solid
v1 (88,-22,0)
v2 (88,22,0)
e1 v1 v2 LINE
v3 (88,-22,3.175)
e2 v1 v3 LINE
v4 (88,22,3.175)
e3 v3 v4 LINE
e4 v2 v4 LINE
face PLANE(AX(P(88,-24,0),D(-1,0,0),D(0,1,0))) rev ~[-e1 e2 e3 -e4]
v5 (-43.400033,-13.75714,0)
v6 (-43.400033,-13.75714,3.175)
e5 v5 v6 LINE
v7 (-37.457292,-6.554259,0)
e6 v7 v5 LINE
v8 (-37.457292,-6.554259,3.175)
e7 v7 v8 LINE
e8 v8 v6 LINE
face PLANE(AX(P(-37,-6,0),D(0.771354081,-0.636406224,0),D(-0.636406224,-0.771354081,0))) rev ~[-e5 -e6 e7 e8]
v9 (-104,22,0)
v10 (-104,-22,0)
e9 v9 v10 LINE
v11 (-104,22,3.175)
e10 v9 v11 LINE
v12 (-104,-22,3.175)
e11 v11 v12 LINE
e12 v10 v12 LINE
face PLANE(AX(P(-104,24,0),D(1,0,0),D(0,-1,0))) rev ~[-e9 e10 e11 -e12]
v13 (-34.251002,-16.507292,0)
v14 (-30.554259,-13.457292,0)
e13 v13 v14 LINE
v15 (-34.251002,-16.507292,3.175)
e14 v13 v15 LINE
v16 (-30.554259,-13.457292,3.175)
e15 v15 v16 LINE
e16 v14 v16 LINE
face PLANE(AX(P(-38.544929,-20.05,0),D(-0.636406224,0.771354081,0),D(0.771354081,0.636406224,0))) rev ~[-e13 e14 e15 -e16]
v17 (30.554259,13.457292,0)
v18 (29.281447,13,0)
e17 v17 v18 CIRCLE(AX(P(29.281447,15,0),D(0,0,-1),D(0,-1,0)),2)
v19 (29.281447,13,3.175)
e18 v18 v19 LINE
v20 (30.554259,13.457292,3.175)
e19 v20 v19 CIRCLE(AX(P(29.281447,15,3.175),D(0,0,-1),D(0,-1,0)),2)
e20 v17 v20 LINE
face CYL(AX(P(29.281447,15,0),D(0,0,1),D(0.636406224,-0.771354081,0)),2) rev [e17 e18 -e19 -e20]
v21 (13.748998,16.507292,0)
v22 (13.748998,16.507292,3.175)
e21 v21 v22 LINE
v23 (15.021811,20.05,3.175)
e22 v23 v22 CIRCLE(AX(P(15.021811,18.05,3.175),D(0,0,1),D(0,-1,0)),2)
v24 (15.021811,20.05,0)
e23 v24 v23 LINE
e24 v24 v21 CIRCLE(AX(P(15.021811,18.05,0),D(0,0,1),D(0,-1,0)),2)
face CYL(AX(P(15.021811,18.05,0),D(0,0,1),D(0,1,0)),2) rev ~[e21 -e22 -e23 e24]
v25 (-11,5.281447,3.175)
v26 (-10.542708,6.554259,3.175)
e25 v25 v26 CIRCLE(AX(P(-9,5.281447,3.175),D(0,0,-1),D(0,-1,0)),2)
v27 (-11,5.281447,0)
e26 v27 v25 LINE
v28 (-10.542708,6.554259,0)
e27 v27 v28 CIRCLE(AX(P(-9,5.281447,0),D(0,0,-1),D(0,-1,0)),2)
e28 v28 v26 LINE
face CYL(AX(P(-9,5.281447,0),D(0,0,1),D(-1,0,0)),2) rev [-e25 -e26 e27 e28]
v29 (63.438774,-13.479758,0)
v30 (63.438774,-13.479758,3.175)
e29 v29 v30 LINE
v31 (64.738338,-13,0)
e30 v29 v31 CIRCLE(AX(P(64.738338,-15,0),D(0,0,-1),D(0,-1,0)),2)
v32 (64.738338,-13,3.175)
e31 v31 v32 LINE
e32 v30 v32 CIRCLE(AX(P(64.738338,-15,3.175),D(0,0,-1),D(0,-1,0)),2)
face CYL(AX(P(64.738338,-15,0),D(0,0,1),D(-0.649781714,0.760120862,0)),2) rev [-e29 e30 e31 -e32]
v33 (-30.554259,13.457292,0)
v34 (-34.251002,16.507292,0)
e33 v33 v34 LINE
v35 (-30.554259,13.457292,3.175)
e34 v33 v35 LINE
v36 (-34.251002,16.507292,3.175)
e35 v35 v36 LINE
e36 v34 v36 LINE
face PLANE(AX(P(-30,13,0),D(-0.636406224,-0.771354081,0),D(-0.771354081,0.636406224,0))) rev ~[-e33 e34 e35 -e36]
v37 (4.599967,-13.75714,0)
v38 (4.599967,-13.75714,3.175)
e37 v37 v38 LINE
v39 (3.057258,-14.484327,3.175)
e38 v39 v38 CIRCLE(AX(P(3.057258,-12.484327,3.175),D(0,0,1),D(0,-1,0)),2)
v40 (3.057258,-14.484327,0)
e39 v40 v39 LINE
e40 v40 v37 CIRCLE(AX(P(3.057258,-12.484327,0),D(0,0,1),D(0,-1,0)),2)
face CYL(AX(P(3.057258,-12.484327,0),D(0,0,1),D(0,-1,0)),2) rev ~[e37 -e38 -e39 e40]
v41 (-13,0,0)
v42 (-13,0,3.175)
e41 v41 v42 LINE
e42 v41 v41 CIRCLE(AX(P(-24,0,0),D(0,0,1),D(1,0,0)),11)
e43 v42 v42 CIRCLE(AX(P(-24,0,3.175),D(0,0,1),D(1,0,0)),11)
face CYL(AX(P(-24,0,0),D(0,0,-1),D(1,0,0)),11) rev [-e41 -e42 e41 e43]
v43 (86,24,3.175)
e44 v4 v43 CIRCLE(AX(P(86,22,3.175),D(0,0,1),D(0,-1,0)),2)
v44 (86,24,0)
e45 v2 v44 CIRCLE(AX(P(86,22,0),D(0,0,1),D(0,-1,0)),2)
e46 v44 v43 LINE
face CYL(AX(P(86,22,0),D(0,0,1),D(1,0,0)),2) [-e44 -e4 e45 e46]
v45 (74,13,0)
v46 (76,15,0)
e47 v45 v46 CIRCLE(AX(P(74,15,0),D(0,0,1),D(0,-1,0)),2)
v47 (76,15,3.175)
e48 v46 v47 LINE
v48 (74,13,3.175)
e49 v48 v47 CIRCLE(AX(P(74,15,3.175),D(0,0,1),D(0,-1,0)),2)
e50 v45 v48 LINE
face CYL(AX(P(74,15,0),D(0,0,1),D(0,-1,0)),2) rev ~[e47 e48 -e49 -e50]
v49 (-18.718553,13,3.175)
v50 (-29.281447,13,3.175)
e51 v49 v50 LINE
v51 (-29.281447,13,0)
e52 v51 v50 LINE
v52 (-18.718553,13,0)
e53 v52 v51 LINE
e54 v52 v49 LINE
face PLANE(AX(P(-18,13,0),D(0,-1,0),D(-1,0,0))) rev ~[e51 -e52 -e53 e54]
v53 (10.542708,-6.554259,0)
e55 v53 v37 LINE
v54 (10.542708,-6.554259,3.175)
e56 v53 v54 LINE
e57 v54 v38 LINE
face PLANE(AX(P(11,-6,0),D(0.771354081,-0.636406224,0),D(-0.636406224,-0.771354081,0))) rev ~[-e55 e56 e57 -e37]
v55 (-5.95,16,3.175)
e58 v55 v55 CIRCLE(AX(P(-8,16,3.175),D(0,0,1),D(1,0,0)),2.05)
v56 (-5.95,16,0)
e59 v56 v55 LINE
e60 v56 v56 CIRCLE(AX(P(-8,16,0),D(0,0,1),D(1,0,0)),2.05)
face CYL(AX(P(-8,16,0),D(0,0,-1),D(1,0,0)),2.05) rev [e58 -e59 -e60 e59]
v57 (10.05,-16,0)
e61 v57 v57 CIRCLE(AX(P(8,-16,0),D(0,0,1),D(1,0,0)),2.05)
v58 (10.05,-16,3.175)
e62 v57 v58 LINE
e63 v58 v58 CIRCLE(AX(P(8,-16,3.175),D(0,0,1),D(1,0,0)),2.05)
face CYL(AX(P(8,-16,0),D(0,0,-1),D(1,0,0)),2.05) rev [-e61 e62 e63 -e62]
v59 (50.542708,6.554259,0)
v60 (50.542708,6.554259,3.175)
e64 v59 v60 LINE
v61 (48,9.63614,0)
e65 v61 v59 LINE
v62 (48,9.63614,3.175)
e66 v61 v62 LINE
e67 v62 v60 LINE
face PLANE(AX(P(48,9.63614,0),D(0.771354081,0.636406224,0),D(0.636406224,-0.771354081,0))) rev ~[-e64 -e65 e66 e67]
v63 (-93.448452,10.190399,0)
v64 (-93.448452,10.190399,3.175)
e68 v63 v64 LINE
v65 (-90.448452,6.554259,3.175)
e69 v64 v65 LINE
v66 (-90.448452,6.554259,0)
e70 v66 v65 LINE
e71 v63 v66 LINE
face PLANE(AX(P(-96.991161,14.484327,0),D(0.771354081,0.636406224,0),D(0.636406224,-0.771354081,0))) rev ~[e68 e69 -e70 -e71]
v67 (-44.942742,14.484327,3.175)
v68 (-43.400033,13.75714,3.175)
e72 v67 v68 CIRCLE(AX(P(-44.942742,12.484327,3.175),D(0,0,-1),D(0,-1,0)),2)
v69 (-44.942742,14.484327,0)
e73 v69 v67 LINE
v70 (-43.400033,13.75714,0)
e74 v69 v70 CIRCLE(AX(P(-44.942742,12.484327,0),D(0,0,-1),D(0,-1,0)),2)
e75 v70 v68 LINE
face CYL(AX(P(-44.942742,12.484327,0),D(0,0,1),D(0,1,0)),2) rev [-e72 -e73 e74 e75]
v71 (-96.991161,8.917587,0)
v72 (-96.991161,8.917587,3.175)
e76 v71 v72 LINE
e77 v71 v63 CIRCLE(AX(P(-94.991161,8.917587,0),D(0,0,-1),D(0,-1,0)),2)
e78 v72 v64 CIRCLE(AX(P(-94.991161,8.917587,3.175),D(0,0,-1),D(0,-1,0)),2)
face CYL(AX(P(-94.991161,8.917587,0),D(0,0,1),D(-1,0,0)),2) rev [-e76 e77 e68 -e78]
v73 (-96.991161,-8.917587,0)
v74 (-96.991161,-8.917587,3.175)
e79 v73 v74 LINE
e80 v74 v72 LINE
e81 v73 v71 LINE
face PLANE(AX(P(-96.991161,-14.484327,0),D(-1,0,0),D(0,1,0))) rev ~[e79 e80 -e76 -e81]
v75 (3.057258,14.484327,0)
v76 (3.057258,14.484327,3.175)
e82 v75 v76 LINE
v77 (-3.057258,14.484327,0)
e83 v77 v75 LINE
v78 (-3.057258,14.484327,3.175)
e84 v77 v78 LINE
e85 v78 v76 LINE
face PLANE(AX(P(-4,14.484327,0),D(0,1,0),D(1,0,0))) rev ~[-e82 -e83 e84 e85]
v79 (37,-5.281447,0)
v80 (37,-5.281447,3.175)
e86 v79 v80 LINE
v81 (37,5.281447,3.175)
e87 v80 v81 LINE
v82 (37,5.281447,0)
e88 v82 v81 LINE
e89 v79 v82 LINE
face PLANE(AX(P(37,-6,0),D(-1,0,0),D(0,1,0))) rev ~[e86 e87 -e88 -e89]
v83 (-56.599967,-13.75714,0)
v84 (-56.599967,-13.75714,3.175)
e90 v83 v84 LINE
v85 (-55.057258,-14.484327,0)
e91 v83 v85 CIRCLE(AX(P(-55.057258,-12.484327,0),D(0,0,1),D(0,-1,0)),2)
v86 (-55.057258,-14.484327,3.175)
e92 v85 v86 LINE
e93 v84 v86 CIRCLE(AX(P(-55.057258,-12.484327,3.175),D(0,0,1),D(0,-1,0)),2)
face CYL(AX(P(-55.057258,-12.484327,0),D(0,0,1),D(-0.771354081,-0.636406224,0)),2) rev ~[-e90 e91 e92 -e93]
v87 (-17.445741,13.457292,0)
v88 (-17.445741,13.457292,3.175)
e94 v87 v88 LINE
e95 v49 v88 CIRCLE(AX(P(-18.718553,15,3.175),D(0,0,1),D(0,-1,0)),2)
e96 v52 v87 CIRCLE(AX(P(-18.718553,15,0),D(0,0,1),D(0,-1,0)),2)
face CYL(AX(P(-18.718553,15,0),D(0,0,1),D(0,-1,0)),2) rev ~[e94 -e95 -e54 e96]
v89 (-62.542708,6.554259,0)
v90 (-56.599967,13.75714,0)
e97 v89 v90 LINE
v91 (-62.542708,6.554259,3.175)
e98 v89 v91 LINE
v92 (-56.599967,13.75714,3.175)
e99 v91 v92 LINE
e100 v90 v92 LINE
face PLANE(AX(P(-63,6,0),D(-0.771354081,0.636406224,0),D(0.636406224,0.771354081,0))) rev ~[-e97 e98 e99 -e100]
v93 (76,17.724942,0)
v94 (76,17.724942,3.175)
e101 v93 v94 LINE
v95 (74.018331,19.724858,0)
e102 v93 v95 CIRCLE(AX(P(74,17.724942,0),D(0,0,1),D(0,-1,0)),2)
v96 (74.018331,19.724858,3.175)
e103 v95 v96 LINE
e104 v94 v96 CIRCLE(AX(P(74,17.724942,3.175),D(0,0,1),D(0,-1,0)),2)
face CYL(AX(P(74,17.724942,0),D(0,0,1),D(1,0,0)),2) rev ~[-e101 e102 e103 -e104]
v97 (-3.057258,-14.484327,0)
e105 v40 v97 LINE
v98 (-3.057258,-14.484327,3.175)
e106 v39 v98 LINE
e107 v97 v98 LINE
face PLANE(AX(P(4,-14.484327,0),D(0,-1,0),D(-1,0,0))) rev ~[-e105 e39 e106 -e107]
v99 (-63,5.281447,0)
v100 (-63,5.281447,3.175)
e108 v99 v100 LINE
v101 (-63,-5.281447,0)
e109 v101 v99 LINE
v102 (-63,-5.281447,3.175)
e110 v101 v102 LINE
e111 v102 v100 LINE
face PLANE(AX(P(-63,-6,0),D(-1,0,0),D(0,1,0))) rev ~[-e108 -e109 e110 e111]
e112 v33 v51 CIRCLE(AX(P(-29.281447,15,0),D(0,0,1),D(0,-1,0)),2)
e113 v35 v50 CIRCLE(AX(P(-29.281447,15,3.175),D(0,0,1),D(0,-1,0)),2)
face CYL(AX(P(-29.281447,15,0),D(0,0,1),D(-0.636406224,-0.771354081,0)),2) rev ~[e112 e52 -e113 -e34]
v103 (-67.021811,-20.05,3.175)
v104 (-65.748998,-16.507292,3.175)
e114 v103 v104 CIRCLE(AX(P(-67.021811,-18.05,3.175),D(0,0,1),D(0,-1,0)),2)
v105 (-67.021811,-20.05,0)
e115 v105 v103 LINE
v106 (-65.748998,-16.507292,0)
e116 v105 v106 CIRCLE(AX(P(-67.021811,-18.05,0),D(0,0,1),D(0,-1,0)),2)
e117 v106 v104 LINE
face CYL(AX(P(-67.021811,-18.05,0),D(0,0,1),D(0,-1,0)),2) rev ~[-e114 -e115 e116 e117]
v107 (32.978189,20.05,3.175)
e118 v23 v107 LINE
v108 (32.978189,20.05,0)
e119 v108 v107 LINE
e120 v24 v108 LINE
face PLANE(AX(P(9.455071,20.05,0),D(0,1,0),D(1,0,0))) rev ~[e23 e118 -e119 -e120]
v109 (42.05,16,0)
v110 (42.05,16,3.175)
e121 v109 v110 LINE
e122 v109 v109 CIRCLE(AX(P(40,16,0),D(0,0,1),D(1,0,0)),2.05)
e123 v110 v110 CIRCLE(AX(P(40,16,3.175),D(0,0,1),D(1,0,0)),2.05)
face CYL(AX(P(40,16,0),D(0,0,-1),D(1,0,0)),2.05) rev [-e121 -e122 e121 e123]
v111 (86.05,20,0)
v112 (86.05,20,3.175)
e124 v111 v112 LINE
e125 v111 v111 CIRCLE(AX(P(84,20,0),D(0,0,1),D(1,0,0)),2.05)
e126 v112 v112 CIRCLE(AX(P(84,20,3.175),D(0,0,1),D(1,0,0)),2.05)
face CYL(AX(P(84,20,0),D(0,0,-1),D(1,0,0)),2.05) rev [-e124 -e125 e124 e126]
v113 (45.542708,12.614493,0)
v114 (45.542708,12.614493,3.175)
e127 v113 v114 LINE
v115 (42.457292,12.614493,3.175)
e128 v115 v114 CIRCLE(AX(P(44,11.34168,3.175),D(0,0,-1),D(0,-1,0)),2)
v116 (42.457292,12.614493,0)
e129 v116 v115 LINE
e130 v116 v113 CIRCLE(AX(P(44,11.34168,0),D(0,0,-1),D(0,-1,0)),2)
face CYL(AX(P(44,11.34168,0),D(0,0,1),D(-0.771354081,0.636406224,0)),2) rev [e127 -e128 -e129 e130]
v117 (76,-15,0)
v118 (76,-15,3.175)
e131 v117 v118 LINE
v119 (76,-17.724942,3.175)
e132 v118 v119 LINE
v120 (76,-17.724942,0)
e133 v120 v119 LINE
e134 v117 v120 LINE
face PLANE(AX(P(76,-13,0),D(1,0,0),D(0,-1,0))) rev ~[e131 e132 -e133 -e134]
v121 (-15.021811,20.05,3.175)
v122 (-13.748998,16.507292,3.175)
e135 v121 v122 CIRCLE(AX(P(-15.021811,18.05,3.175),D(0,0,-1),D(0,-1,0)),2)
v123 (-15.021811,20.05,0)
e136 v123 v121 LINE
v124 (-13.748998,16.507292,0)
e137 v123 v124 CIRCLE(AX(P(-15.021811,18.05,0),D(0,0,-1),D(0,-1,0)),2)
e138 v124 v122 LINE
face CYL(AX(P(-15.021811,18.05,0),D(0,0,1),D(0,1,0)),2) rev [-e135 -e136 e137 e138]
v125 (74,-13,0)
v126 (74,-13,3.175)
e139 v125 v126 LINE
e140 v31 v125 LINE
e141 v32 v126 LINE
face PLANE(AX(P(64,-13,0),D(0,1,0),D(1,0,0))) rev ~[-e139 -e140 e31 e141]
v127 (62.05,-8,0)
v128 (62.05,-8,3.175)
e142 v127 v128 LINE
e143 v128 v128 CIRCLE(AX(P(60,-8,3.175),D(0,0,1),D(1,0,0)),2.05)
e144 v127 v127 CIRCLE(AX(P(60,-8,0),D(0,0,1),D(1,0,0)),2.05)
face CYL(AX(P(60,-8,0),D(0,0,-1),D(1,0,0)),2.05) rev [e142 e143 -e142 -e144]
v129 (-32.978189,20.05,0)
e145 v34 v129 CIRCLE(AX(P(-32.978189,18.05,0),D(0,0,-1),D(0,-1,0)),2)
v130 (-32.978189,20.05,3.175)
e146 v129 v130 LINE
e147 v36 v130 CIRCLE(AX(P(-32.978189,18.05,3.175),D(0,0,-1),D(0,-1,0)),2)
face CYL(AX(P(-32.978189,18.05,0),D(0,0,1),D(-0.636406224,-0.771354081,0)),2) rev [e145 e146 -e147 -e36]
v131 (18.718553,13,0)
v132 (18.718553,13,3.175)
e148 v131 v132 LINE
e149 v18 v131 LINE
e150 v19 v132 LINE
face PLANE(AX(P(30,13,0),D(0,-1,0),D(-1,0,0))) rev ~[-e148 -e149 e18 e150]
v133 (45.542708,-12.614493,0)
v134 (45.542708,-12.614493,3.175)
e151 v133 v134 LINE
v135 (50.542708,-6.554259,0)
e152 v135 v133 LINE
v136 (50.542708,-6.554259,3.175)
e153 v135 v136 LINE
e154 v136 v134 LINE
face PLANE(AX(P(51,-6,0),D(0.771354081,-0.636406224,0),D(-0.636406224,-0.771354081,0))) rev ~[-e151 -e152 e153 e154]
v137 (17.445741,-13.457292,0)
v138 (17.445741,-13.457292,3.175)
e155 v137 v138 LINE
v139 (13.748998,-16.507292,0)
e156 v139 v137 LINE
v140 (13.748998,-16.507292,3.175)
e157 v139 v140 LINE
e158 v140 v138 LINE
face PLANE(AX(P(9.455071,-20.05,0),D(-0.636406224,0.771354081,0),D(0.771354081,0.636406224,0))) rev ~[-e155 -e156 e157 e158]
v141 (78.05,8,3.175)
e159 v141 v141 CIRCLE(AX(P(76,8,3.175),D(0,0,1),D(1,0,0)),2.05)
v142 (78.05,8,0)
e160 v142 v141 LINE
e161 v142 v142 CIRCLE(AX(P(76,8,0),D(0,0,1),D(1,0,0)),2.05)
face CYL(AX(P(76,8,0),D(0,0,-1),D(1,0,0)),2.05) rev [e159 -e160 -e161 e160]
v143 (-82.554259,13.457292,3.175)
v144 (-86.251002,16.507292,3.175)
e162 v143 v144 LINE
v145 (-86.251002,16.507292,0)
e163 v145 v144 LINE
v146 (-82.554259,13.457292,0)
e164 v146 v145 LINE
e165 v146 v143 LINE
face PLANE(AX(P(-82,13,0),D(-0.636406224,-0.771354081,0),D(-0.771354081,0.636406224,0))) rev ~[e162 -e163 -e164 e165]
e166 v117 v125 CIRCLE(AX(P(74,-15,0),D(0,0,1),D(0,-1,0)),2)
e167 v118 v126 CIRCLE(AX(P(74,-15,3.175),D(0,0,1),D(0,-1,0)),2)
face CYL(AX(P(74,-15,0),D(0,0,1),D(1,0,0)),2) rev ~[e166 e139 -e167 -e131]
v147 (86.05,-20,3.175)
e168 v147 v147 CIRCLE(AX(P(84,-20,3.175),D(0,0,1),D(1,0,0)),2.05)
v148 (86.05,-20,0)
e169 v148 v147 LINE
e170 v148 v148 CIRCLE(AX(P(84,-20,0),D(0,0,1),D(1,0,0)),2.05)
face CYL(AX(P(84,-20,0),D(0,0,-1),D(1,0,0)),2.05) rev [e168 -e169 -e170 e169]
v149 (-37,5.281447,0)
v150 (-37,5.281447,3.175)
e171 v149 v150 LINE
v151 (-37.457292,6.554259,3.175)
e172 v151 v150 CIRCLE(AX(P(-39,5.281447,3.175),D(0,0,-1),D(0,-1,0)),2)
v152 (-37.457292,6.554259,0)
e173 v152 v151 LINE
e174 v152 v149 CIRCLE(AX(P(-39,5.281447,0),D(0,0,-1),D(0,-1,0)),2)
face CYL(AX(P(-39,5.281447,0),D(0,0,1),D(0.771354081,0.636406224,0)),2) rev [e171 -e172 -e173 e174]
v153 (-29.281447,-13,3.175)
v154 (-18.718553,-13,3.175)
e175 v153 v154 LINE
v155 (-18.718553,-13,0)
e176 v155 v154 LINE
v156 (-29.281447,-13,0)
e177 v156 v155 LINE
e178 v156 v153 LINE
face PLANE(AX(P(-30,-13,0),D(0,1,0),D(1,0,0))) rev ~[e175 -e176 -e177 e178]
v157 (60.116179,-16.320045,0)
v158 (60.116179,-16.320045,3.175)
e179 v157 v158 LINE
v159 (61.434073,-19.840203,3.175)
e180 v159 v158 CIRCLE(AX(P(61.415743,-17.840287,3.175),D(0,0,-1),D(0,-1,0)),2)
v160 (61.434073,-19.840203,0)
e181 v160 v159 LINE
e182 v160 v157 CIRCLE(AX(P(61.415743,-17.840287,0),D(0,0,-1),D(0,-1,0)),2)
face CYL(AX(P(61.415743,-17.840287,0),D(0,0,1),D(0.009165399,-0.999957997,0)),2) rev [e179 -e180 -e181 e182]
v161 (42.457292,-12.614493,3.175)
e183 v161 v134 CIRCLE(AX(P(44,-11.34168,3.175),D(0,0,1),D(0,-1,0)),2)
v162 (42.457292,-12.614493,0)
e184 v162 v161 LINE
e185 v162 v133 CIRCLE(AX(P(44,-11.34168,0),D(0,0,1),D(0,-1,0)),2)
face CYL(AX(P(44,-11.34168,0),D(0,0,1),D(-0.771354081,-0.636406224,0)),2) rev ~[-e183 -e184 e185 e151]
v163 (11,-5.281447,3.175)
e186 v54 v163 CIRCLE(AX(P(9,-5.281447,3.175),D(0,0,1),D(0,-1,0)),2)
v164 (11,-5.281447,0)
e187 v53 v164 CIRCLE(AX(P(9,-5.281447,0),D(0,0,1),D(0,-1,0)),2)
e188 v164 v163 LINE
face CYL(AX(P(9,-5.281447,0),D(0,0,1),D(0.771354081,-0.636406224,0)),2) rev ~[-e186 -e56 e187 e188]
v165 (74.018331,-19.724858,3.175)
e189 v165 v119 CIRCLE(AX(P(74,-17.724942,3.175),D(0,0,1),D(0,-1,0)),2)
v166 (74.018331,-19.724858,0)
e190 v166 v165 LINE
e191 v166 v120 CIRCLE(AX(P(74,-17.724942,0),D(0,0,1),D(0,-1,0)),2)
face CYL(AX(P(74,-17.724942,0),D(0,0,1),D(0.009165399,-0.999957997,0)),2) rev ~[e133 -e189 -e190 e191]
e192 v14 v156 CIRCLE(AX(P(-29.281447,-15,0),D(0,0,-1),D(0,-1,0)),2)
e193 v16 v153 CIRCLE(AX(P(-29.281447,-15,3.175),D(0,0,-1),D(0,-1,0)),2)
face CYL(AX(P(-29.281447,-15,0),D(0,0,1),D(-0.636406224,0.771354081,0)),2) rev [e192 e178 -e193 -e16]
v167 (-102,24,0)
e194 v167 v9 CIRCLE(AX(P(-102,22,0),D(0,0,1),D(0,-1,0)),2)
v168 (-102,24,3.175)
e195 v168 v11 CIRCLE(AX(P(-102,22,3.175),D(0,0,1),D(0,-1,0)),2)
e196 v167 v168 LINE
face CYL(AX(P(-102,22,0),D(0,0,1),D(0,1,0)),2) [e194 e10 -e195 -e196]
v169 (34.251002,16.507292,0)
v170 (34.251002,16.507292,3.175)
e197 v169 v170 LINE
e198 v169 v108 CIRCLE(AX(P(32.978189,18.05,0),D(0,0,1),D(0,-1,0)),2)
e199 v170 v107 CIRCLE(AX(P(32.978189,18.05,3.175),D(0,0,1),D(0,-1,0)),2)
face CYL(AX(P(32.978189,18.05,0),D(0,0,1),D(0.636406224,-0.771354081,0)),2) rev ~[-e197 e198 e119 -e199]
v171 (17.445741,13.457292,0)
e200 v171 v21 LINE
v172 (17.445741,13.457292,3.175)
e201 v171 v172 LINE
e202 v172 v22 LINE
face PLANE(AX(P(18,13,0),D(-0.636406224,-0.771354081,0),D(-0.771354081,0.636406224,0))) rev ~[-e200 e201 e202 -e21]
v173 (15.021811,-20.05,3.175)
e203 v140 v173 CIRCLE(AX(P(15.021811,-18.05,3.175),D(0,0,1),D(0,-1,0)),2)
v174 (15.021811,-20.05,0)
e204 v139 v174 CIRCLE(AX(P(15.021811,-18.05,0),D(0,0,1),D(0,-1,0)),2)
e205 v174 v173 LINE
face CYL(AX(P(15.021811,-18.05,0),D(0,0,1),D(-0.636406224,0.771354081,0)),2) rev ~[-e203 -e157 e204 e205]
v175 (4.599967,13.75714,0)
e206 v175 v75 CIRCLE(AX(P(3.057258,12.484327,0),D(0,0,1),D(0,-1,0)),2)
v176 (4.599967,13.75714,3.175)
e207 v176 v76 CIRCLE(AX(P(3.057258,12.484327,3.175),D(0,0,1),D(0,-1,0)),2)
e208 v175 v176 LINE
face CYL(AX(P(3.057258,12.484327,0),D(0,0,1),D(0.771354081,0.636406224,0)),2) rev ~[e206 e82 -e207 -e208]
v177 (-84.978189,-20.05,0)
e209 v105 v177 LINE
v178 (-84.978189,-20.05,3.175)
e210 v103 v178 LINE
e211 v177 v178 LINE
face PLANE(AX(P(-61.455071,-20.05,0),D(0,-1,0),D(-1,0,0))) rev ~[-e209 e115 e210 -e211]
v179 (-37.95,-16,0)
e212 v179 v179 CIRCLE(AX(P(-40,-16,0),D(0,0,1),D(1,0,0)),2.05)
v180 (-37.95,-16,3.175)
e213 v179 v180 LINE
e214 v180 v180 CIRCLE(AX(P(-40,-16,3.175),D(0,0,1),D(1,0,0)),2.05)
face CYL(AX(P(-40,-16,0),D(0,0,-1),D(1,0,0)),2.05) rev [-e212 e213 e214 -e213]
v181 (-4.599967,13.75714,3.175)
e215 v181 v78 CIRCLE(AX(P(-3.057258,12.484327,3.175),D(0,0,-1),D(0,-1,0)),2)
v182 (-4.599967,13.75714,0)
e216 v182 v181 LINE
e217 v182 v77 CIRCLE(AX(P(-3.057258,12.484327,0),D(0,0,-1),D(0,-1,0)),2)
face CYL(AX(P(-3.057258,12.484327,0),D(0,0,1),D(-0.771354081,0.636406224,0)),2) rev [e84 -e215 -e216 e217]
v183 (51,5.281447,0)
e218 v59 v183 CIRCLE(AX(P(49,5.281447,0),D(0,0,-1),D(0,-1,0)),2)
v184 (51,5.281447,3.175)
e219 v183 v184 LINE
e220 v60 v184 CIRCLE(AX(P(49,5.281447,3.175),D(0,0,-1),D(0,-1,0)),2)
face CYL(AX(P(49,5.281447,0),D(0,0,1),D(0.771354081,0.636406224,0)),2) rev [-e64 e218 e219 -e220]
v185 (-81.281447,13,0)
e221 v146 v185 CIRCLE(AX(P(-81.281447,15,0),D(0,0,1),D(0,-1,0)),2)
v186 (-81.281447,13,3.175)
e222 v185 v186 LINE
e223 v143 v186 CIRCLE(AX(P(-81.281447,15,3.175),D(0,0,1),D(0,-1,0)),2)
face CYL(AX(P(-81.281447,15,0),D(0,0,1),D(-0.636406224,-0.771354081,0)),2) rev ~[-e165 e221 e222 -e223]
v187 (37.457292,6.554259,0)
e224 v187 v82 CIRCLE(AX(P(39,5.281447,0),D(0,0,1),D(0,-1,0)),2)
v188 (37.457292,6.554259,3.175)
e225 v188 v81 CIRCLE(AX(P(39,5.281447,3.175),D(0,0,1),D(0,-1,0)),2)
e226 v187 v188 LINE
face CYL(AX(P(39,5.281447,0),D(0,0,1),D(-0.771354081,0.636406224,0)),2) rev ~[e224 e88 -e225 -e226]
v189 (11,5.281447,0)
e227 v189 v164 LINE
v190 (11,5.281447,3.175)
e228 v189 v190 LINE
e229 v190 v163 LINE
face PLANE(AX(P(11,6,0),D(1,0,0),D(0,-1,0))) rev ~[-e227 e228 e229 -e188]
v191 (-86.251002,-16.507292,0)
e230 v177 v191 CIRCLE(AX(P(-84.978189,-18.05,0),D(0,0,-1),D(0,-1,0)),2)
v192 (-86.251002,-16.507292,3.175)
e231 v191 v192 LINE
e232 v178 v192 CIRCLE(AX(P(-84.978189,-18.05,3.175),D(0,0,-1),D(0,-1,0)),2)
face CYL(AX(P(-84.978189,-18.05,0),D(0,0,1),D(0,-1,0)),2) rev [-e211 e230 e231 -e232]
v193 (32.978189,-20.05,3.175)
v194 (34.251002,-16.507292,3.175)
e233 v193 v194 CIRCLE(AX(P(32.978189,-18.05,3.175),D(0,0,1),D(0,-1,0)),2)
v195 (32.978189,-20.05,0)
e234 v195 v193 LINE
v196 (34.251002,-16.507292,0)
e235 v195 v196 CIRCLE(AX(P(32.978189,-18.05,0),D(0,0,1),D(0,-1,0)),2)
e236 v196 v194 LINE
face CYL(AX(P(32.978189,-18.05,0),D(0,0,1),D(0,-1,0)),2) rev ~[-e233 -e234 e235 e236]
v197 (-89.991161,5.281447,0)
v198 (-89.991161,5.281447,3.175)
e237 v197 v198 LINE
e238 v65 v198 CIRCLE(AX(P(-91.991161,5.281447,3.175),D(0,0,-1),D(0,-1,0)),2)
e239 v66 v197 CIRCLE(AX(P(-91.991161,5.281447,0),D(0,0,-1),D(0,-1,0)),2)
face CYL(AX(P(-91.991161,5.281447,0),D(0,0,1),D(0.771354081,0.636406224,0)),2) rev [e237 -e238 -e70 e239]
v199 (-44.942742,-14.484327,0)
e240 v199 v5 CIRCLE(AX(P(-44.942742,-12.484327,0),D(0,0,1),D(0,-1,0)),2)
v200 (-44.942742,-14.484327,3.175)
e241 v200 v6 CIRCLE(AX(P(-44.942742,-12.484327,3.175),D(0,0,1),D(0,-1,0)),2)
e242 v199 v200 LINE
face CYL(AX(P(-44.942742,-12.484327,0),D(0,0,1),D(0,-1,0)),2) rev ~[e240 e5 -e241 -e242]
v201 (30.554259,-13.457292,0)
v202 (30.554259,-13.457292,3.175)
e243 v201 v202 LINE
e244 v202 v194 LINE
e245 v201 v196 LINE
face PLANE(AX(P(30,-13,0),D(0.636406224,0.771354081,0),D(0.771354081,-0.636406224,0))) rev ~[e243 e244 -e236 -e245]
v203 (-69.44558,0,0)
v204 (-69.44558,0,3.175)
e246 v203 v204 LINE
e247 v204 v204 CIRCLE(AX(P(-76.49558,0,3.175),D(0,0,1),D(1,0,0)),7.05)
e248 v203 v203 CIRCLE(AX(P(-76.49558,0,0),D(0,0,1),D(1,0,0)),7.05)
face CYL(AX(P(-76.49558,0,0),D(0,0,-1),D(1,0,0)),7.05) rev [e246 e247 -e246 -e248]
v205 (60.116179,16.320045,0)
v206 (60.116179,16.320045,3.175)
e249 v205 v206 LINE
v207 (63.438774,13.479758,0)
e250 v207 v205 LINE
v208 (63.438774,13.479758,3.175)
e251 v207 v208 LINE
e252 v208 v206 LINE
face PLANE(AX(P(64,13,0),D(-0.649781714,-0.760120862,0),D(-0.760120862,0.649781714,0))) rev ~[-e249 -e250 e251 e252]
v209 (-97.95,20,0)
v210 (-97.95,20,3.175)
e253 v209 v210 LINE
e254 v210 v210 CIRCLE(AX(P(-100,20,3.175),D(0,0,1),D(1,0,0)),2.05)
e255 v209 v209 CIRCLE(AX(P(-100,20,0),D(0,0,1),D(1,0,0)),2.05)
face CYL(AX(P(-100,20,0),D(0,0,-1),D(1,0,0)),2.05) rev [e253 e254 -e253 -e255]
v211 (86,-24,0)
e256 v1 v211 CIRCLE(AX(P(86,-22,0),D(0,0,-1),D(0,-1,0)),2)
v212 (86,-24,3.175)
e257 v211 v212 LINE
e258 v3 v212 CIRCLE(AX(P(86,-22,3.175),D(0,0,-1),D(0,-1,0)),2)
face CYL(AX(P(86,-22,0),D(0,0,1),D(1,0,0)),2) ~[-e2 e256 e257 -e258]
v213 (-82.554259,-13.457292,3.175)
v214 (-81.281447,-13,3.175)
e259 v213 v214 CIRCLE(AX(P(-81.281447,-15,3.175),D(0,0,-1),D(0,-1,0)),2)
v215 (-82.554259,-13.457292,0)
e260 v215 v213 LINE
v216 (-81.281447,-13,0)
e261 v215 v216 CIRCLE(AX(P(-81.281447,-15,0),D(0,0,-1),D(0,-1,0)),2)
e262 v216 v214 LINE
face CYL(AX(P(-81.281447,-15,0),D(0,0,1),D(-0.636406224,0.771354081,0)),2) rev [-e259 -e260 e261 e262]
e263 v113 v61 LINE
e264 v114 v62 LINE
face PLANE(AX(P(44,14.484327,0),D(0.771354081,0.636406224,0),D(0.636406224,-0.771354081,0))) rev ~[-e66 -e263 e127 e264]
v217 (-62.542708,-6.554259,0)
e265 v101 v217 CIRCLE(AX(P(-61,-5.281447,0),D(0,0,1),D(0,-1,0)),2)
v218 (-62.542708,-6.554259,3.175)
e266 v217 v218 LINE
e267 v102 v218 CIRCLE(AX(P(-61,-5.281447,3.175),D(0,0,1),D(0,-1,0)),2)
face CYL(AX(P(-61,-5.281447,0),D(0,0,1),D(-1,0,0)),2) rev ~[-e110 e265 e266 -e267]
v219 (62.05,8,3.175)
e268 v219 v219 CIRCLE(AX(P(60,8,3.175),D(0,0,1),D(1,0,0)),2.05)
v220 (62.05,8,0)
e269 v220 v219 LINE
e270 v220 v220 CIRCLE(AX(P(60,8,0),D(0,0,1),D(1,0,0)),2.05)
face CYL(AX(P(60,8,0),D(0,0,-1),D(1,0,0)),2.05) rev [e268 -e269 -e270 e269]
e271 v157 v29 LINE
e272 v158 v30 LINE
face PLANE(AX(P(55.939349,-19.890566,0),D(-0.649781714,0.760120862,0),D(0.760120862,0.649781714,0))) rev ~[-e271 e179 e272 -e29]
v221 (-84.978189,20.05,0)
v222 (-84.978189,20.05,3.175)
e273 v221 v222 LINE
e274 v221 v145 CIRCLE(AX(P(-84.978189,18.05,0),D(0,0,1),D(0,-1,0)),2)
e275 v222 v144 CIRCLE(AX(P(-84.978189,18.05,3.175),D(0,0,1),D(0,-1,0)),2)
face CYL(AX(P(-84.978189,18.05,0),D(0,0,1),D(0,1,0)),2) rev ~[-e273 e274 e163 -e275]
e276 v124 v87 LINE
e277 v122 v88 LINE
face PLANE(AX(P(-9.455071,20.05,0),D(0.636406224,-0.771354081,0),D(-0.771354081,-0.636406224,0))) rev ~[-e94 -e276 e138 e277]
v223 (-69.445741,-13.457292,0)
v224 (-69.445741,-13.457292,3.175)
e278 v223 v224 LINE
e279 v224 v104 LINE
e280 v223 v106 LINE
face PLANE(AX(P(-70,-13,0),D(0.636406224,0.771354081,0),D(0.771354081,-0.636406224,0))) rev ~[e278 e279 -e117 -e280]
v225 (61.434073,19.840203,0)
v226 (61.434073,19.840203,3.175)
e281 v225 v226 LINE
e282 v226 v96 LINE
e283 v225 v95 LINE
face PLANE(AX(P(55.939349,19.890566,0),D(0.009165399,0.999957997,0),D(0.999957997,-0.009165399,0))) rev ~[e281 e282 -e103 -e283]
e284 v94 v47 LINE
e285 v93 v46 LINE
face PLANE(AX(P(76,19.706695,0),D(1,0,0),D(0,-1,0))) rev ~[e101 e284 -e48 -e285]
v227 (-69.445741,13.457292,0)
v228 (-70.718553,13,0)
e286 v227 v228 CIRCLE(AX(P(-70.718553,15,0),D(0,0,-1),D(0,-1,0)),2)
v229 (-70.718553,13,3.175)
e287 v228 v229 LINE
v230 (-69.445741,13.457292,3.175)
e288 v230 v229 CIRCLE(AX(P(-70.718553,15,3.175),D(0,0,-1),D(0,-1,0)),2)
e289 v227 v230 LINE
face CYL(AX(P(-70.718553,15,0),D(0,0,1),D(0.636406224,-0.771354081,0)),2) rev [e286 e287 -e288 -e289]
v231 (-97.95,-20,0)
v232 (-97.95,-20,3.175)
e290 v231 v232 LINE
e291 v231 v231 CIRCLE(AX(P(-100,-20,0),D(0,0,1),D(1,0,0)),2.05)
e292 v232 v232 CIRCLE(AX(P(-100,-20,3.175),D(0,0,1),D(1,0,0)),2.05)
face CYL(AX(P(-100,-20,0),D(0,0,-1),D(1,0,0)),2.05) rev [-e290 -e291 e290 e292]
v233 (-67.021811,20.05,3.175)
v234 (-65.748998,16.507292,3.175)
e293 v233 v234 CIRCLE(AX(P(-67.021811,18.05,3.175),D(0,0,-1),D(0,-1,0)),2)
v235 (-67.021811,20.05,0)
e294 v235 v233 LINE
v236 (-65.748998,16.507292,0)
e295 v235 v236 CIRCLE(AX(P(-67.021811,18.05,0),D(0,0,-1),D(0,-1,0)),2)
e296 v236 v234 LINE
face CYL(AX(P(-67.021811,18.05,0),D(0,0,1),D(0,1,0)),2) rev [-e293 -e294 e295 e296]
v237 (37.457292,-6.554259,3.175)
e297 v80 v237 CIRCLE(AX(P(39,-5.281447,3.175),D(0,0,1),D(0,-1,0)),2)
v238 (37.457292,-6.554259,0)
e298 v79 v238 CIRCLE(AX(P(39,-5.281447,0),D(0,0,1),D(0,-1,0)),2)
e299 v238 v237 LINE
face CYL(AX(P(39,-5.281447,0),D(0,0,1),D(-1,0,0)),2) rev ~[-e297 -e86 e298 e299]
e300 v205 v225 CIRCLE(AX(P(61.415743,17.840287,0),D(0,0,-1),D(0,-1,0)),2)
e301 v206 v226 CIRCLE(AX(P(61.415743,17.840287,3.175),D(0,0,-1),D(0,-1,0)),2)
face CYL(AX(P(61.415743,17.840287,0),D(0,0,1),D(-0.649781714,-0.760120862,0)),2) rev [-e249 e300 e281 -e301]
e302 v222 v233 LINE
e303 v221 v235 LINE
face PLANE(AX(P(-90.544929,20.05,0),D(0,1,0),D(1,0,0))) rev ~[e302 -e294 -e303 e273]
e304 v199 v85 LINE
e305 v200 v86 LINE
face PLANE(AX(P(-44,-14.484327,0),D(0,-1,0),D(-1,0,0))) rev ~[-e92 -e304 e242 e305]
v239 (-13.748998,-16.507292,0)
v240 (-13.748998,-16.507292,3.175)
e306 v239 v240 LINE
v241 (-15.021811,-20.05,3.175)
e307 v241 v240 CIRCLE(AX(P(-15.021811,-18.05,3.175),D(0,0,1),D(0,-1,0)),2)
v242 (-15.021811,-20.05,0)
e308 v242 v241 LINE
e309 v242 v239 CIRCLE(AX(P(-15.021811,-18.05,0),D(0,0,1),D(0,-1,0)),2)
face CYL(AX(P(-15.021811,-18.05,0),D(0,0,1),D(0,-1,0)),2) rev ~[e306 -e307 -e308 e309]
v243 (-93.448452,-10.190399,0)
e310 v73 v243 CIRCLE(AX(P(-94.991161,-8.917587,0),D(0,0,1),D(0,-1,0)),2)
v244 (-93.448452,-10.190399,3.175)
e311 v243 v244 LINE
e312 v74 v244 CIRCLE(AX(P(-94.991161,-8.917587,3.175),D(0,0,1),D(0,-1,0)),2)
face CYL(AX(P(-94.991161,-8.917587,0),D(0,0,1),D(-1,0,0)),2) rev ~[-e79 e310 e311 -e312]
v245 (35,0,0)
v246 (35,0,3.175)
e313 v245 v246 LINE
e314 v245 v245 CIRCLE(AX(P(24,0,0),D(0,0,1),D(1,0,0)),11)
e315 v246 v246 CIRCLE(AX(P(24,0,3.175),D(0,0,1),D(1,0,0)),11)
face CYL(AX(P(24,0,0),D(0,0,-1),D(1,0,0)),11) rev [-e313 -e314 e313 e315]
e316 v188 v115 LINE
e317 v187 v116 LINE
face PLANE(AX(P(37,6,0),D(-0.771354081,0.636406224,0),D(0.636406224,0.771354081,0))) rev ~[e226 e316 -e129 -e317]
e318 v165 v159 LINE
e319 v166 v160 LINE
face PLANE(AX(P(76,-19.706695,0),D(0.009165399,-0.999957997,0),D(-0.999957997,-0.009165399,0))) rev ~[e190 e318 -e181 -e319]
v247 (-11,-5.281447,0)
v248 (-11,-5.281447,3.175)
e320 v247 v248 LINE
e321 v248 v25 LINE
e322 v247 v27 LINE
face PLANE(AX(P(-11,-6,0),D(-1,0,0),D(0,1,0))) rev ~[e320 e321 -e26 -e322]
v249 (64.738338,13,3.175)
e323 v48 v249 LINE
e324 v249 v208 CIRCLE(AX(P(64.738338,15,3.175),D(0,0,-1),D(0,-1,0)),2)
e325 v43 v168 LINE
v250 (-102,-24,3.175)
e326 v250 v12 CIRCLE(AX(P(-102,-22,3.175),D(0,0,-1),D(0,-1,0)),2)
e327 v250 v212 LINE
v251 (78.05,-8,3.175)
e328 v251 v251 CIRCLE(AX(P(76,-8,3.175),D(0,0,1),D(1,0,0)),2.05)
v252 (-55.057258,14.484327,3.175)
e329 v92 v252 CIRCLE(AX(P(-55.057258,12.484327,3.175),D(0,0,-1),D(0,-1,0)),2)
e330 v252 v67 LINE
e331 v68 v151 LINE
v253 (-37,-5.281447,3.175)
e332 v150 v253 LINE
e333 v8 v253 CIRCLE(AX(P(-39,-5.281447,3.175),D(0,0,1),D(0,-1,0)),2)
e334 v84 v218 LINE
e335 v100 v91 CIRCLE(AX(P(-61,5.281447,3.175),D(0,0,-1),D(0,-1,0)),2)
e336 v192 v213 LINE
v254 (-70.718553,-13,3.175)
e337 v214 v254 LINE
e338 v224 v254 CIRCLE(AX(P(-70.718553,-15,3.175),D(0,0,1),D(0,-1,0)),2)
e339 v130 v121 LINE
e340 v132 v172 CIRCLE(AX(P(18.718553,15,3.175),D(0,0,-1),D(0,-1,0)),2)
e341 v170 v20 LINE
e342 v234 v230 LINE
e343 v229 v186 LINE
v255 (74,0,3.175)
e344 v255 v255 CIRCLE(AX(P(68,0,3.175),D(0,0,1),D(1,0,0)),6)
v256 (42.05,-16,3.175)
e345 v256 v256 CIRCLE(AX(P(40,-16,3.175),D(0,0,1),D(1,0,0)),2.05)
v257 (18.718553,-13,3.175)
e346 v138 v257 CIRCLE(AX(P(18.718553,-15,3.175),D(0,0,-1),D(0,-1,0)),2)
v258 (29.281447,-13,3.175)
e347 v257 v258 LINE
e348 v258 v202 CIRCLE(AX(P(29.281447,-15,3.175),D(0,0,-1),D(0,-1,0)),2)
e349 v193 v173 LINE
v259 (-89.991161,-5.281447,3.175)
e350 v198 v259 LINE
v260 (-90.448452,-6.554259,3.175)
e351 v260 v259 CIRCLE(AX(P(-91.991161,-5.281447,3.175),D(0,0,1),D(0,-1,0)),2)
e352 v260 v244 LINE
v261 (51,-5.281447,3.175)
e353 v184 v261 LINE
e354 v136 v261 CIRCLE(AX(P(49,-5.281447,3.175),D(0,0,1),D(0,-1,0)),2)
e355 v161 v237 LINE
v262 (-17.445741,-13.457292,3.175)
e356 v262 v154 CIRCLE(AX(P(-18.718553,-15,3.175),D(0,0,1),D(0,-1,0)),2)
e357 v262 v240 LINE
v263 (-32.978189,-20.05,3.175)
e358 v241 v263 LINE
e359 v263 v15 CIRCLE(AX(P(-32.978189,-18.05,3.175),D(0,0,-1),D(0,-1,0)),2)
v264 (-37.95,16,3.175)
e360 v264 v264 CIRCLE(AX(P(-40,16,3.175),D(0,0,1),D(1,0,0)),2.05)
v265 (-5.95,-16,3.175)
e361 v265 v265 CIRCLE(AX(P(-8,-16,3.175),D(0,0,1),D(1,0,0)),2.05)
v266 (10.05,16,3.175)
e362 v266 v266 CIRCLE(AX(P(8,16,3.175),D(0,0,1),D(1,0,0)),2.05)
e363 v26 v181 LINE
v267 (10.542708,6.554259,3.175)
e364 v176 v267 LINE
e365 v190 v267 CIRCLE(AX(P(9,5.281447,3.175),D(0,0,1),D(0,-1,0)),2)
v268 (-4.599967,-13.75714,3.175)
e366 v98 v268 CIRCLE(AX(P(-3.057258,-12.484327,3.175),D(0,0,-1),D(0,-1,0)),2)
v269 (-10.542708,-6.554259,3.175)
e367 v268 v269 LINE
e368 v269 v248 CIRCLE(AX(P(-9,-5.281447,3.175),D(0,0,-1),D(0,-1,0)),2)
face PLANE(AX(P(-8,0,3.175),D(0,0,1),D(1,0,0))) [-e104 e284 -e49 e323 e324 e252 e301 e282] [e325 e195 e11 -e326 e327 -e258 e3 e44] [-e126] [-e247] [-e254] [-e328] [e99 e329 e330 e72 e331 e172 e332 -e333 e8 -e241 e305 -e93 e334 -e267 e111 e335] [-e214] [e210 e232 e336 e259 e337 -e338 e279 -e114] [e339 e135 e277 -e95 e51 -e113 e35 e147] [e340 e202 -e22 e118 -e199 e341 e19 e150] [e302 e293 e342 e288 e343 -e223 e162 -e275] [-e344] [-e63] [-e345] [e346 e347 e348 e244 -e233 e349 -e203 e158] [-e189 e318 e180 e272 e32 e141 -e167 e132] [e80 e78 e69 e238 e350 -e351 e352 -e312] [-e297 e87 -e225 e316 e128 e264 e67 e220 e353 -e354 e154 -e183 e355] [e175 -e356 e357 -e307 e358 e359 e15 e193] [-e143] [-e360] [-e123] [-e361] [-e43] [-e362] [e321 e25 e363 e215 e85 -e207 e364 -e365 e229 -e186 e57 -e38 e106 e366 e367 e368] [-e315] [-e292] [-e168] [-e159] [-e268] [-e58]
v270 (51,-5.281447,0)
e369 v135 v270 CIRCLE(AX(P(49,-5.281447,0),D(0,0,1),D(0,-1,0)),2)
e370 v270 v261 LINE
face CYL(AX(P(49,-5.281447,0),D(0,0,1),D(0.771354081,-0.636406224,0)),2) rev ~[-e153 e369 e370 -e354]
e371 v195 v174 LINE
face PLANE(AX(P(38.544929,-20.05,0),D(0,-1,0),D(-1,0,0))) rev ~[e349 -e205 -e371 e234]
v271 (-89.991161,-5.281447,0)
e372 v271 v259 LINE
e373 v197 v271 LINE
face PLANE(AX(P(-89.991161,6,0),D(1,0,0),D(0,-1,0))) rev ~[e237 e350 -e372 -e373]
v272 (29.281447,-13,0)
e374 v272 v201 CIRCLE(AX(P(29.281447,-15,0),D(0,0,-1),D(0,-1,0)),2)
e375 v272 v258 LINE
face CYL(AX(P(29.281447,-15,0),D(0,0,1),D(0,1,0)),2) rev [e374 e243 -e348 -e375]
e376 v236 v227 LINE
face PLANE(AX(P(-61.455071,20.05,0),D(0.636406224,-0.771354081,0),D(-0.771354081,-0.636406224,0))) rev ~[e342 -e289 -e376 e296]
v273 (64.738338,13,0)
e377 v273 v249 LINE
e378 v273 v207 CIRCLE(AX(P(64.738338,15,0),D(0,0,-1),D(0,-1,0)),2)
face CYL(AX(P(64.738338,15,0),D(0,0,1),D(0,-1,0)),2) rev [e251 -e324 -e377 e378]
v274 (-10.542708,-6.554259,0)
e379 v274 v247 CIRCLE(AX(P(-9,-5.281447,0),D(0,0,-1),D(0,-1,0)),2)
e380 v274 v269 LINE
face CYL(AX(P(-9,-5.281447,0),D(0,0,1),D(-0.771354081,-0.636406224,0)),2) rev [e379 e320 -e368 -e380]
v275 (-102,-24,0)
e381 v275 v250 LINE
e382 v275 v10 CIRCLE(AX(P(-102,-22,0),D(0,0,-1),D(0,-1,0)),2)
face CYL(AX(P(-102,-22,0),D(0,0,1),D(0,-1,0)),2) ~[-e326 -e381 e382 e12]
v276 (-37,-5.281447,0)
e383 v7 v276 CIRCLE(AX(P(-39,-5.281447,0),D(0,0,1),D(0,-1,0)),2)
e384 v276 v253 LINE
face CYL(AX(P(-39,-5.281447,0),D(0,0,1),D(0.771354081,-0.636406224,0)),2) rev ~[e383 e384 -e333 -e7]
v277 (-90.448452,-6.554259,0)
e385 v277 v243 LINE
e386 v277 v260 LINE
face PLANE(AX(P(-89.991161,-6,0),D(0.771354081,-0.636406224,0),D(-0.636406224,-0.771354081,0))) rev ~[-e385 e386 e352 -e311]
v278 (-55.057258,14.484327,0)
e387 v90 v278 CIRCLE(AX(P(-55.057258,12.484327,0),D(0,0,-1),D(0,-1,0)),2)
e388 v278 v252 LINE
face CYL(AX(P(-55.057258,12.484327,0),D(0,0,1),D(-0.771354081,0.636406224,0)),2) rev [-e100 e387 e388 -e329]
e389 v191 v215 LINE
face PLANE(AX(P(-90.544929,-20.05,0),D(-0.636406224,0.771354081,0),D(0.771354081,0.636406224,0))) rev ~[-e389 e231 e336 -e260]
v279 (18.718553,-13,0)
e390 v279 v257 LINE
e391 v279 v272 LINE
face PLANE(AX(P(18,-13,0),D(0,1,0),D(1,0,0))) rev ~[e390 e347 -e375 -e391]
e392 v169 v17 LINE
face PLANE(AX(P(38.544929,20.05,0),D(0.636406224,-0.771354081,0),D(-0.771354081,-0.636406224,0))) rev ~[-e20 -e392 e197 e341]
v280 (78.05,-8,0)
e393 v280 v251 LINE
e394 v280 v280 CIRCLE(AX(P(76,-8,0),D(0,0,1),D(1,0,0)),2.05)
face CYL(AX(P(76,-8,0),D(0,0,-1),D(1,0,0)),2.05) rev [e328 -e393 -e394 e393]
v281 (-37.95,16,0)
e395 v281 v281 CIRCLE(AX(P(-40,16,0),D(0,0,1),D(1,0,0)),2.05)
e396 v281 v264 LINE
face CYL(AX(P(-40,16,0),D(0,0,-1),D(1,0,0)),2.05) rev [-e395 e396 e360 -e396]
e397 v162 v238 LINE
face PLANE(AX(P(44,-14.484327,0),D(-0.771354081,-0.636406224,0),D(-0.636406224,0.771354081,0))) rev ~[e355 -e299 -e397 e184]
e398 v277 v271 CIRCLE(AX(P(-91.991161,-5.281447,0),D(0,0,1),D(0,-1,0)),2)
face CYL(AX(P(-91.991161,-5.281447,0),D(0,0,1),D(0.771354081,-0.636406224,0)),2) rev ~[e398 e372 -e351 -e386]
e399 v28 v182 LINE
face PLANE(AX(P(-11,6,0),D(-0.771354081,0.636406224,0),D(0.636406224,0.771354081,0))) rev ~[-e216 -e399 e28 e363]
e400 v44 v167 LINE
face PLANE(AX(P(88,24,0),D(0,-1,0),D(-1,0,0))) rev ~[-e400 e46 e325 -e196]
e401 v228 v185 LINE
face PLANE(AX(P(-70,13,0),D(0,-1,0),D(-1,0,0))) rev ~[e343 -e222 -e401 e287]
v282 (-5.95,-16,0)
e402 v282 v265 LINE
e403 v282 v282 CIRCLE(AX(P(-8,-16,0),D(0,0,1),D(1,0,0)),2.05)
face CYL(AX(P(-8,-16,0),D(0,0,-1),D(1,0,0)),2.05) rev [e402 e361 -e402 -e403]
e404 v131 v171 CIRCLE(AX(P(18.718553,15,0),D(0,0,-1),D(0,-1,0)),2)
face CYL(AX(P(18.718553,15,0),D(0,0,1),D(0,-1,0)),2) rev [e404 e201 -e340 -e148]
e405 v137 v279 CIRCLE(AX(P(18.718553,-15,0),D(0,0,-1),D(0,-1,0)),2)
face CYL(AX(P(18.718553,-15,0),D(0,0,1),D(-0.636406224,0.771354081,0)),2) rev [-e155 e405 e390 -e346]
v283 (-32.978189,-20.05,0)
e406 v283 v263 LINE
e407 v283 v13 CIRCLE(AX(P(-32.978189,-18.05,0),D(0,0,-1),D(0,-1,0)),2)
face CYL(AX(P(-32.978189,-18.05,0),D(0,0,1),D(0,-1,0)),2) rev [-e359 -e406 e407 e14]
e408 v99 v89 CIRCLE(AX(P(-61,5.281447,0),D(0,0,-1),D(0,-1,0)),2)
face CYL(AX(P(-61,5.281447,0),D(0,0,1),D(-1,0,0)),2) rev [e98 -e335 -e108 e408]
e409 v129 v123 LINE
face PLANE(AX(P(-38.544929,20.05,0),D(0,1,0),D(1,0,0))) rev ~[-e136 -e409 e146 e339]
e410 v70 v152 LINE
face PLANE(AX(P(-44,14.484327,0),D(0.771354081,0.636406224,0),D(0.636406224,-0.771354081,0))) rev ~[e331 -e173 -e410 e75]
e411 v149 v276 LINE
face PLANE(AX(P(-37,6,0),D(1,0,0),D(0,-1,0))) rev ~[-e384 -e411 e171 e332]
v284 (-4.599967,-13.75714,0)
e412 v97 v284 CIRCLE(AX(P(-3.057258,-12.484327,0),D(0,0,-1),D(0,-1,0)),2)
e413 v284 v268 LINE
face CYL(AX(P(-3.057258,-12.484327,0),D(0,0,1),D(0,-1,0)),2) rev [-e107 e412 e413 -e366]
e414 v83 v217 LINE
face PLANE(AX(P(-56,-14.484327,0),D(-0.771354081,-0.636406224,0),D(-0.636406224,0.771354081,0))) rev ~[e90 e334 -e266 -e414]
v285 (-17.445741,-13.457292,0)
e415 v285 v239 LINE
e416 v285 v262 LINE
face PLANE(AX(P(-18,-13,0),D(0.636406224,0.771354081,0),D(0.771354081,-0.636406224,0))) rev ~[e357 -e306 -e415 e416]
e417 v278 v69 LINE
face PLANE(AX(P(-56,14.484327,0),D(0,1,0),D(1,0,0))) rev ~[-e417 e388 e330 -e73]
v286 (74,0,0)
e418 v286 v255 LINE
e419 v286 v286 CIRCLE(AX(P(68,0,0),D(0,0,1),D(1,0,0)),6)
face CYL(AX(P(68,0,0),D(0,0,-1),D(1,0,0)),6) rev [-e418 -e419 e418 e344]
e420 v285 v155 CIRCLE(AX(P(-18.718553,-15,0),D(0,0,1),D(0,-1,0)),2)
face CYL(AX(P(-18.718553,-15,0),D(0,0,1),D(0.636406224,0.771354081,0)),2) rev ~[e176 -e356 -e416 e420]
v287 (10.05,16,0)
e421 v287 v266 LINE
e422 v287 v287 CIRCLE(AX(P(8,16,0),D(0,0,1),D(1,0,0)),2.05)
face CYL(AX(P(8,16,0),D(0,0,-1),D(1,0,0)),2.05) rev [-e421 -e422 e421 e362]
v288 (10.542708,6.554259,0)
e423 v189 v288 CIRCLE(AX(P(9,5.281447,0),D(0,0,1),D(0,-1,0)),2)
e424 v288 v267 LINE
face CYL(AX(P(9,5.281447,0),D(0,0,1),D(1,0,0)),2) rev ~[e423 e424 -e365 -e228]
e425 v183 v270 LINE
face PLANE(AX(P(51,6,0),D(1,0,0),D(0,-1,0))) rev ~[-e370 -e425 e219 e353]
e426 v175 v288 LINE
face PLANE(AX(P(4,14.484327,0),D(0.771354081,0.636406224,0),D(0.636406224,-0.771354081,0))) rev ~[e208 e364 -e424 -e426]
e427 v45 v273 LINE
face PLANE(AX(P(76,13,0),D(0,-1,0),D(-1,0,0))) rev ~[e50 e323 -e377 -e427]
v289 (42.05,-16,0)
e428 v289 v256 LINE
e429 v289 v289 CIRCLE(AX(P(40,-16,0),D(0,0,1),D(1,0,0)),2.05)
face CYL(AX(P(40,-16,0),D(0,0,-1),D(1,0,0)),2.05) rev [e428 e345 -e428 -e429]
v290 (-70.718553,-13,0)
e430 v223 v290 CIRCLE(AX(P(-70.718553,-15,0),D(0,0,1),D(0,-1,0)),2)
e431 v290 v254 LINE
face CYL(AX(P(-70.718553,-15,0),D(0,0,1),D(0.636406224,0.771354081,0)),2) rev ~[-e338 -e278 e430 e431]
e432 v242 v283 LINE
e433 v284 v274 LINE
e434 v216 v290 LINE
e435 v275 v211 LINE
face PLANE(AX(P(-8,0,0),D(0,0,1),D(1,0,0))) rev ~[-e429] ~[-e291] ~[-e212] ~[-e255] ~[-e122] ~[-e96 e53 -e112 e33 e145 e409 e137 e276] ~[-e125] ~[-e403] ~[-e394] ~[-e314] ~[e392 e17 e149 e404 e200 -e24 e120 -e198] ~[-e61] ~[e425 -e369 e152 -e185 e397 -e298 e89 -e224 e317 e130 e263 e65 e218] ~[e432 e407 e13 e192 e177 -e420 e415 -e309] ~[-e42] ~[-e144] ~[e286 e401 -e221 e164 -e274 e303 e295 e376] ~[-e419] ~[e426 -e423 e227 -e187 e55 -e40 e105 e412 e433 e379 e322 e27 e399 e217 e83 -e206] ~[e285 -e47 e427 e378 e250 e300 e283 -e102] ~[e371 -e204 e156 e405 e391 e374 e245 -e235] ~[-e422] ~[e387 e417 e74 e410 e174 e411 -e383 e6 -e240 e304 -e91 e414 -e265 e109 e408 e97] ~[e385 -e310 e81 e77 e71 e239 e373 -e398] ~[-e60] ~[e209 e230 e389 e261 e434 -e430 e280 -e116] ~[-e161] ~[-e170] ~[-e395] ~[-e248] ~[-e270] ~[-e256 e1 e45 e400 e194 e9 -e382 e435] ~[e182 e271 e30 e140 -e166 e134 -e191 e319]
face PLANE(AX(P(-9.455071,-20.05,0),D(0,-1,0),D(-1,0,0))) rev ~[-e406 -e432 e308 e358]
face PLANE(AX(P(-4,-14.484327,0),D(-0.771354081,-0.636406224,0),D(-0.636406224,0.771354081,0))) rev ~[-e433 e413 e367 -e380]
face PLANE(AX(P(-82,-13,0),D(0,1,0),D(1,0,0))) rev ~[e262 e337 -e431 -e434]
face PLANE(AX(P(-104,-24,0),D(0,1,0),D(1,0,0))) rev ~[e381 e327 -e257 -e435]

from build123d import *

# Parameters (mm, degrees)
SKETCH1_R           = 2.05
SKETCH1_R_2         = 11
SKETCH1_R_3         = 6
SKETCH1_R_4         = 7.05
BOSS_EXTRUDE1_DEPTH = 3.175
FILLET1_R           = 2


with BuildPart() as part:
    # Sketch1 → Boss-Extrude1 (new body)
    with BuildSketch(Plane.XY):
        Polygon((88, -24), (88, 24), (48, 24), (-104, 24), (-104, -24), align=None)
        with Locations((-100, -20)):
            Circle(SKETCH1_R, mode=Mode.SUBTRACT)
        with Locations((-8, -16)):
            Circle(SKETCH1_R, mode=Mode.SUBTRACT)
        with Locations((8, -16)):
            Circle(SKETCH1_R, mode=Mode.SUBTRACT)
        Polygon((18, -13), (30, -13), (38.544929421, -20.05), (9.455070579, -20.05), align=None, mode=Mode.SUBTRACT)
        with Locations((84, -20)):
            Circle(SKETCH1_R, mode=Mode.SUBTRACT)
        with Locations((40, -16)):
            Circle(SKETCH1_R, mode=Mode.SUBTRACT)
        Polygon((55.939349424, -19.890566499), (64, -13), (76, -13), (76, -19.706694904), align=None, mode=Mode.SUBTRACT)
        with Locations((60, -8)):
            Circle(SKETCH1_R, mode=Mode.SUBTRACT)
        with Locations((76, -8)):
            Circle(SKETCH1_R, mode=Mode.SUBTRACT)
        Polygon((-38.544929421, 20.05), (-9.455070579, 20.05), (-18, 13), (-30, 13), align=None, mode=Mode.SUBTRACT)
        Polygon((-61.455070579, 20.05), (-70, 13), (-82, 13), (-90.544929421, 20.05), align=None, mode=Mode.SUBTRACT)
        Polygon((-96.991160633, 14.484327085), (-89.991160633, 6), (-89.991160633, -6), (-96.991160633, -14.484327085), align=None, mode=Mode.SUBTRACT)
        Polygon((-90.544929421, -20.05), (-82, -13), (-70, -13), (-61.455070579, -20.05), align=None, mode=Mode.SUBTRACT)
        Polygon((-38.544929421, -20.05), (-30, -13), (-18, -13), (-9.455070579, -20.05), align=None, mode=Mode.SUBTRACT)
        Polygon((-4, -14.484327085), (-11, -6), (-11, 6), (-4, 14.484327085), (4, 14.484327085), (11, 6), (11, -6), (4, -14.484327085), align=None, mode=Mode.SUBTRACT)
        with Locations((-100, 20)):
            Circle(SKETCH1_R, mode=Mode.SUBTRACT)
        with Locations((24, 0)):
            Circle(SKETCH1_R_2, mode=Mode.SUBTRACT)
        Polygon((44, 14.484327085), (48, 9.636140179), (51, 6), (51, -6), (44, -14.484327085), (37, -6), (37, 6), align=None, mode=Mode.SUBTRACT)
        with Locations((68, 0)):
            Circle(SKETCH1_R_3, mode=Mode.SUBTRACT)
        with Locations((60, 8)):
            Circle(SKETCH1_R, mode=Mode.SUBTRACT)
        with Locations((76, 8)):
            Circle(SKETCH1_R, mode=Mode.SUBTRACT)
        with Locations((-8, 16)):
            Circle(SKETCH1_R, mode=Mode.SUBTRACT)
        with Locations((8, 16)):
            Circle(SKETCH1_R, mode=Mode.SUBTRACT)
        Polygon((30, 13), (18, 13), (9.455070579, 20.05), (38.544929421, 20.05), align=None, mode=Mode.SUBTRACT)
        with Locations((40, 16)):
            Circle(SKETCH1_R, mode=Mode.SUBTRACT)
        Polygon((64, 13), (55.939349424, 19.890566499), (76, 19.706694904), (76, 13), align=None, mode=Mode.SUBTRACT)
        with Locations((84, 20)):
            Circle(SKETCH1_R, mode=Mode.SUBTRACT)
        Polygon((-63, 6), (-56, 14.484327085), (-44, 14.484327085), (-37, 6), (-37, -6), (-44, -14.484327085), (-56, -14.484327085), (-63, -6), align=None, mode=Mode.SUBTRACT)
        with Locations((-24, 0)):
            Circle(SKETCH1_R_2, mode=Mode.SUBTRACT)
        with Locations((-40, 16)):
            Circle(SKETCH1_R, mode=Mode.SUBTRACT)
        with Locations((-40, -16)):
            Circle(SKETCH1_R, mode=Mode.SUBTRACT)
        with Locations((-76.495580316, 0)):
            Circle(SKETCH1_R_4, mode=Mode.SUBTRACT)
    extrude(amount=BOSS_EXTRUDE1_DEPTH)

    # Fillet1
    fillet1_edges = [part.edges().sort_by_distance(p)[0] for p in [
        (-44, -14.484327085, 1.5875),
        (-37, -6, 1.5875),
        (-37, 6, 1.5875),
        (-44, 14.484327085, 1.5875),
        (-56, 14.484327085, 1.5875),
        (-63, 6, 1.5875),
        (-63, -6, 1.5875),
        (-56, -14.484327085, 1.5875),
        (76, -19.706694904, 1.5875),
        (76, -13, 1.5875),
        (64, -13, 1.5875),
        (55.939349424, -19.890566499, 1.5875),
        (51, 6, 1.5875),
        (44, 14.484327085, 1.5875),
        (37, 6, 1.5875),
        (37, -6, 1.5875),
        (44, -14.484327085, 1.5875),
        (51, -6, 1.5875),
        (18, 13, 1.5875),
        (30, 13, 1.5875),
        (38.544929421, 20.05, 1.5875),
        (9.455070579, 20.05, 1.5875),
        (9.455070579, -20.05, 1.5875),
        (38.544929421, -20.05, 1.5875),
        (30, -13, 1.5875),
        (18, -13, 1.5875),
        (64, 13, 1.5875),
        (76, 13, 1.5875),
        (76, 19.706694904, 1.5875),
        (55.939349424, 19.890566499, 1.5875),
        (-82, -13, 1.5875),
        (-90.544929421, -20.05, 1.5875),
        (-61.455070579, -20.05, 1.5875),
        (-70, -13, 1.5875),
        (88, -24, 1.5875),
        (-104, -24, 1.5875),
        (-104, 24, 1.5875),
        (88, 24, 1.5875),
        (-61.455070579, 20.05, 1.5875),
        (-90.544929421, 20.05, 1.5875),
        (-82, 13, 1.5875),
        (-70, 13, 1.5875),
        (-30, -13, 1.5875),
        (-38.544929421, -20.05, 1.5875),
        (-9.455070579, -20.05, 1.5875),
        (-18, -13, 1.5875),
        (-11, -6, 1.5875),
        (-4, -14.484327085, 1.5875),
        (4, -14.484327085, 1.5875),
        (11, -6, 1.5875),
        (11, 6, 1.5875),
        (4, 14.484327085, 1.5875),
        (-4, 14.484327085, 1.5875),
        (-11, 6, 1.5875),
        (-18, 13, 1.5875),
        (-9.455070579, 20.05, 1.5875),
        (-38.544929421, 20.05, 1.5875),
        (-30, 13, 1.5875),
        (-96.991160633, 14.484327085, 1.5875),
        (-96.991160633, -14.484327085, 1.5875),
        (-89.991160633, -6, 1.5875),
        (-89.991160633, 6, 1.5875),
    ]]
    fillet(fillet1_edges, radius=FILLET1_R)


solid = part.part
